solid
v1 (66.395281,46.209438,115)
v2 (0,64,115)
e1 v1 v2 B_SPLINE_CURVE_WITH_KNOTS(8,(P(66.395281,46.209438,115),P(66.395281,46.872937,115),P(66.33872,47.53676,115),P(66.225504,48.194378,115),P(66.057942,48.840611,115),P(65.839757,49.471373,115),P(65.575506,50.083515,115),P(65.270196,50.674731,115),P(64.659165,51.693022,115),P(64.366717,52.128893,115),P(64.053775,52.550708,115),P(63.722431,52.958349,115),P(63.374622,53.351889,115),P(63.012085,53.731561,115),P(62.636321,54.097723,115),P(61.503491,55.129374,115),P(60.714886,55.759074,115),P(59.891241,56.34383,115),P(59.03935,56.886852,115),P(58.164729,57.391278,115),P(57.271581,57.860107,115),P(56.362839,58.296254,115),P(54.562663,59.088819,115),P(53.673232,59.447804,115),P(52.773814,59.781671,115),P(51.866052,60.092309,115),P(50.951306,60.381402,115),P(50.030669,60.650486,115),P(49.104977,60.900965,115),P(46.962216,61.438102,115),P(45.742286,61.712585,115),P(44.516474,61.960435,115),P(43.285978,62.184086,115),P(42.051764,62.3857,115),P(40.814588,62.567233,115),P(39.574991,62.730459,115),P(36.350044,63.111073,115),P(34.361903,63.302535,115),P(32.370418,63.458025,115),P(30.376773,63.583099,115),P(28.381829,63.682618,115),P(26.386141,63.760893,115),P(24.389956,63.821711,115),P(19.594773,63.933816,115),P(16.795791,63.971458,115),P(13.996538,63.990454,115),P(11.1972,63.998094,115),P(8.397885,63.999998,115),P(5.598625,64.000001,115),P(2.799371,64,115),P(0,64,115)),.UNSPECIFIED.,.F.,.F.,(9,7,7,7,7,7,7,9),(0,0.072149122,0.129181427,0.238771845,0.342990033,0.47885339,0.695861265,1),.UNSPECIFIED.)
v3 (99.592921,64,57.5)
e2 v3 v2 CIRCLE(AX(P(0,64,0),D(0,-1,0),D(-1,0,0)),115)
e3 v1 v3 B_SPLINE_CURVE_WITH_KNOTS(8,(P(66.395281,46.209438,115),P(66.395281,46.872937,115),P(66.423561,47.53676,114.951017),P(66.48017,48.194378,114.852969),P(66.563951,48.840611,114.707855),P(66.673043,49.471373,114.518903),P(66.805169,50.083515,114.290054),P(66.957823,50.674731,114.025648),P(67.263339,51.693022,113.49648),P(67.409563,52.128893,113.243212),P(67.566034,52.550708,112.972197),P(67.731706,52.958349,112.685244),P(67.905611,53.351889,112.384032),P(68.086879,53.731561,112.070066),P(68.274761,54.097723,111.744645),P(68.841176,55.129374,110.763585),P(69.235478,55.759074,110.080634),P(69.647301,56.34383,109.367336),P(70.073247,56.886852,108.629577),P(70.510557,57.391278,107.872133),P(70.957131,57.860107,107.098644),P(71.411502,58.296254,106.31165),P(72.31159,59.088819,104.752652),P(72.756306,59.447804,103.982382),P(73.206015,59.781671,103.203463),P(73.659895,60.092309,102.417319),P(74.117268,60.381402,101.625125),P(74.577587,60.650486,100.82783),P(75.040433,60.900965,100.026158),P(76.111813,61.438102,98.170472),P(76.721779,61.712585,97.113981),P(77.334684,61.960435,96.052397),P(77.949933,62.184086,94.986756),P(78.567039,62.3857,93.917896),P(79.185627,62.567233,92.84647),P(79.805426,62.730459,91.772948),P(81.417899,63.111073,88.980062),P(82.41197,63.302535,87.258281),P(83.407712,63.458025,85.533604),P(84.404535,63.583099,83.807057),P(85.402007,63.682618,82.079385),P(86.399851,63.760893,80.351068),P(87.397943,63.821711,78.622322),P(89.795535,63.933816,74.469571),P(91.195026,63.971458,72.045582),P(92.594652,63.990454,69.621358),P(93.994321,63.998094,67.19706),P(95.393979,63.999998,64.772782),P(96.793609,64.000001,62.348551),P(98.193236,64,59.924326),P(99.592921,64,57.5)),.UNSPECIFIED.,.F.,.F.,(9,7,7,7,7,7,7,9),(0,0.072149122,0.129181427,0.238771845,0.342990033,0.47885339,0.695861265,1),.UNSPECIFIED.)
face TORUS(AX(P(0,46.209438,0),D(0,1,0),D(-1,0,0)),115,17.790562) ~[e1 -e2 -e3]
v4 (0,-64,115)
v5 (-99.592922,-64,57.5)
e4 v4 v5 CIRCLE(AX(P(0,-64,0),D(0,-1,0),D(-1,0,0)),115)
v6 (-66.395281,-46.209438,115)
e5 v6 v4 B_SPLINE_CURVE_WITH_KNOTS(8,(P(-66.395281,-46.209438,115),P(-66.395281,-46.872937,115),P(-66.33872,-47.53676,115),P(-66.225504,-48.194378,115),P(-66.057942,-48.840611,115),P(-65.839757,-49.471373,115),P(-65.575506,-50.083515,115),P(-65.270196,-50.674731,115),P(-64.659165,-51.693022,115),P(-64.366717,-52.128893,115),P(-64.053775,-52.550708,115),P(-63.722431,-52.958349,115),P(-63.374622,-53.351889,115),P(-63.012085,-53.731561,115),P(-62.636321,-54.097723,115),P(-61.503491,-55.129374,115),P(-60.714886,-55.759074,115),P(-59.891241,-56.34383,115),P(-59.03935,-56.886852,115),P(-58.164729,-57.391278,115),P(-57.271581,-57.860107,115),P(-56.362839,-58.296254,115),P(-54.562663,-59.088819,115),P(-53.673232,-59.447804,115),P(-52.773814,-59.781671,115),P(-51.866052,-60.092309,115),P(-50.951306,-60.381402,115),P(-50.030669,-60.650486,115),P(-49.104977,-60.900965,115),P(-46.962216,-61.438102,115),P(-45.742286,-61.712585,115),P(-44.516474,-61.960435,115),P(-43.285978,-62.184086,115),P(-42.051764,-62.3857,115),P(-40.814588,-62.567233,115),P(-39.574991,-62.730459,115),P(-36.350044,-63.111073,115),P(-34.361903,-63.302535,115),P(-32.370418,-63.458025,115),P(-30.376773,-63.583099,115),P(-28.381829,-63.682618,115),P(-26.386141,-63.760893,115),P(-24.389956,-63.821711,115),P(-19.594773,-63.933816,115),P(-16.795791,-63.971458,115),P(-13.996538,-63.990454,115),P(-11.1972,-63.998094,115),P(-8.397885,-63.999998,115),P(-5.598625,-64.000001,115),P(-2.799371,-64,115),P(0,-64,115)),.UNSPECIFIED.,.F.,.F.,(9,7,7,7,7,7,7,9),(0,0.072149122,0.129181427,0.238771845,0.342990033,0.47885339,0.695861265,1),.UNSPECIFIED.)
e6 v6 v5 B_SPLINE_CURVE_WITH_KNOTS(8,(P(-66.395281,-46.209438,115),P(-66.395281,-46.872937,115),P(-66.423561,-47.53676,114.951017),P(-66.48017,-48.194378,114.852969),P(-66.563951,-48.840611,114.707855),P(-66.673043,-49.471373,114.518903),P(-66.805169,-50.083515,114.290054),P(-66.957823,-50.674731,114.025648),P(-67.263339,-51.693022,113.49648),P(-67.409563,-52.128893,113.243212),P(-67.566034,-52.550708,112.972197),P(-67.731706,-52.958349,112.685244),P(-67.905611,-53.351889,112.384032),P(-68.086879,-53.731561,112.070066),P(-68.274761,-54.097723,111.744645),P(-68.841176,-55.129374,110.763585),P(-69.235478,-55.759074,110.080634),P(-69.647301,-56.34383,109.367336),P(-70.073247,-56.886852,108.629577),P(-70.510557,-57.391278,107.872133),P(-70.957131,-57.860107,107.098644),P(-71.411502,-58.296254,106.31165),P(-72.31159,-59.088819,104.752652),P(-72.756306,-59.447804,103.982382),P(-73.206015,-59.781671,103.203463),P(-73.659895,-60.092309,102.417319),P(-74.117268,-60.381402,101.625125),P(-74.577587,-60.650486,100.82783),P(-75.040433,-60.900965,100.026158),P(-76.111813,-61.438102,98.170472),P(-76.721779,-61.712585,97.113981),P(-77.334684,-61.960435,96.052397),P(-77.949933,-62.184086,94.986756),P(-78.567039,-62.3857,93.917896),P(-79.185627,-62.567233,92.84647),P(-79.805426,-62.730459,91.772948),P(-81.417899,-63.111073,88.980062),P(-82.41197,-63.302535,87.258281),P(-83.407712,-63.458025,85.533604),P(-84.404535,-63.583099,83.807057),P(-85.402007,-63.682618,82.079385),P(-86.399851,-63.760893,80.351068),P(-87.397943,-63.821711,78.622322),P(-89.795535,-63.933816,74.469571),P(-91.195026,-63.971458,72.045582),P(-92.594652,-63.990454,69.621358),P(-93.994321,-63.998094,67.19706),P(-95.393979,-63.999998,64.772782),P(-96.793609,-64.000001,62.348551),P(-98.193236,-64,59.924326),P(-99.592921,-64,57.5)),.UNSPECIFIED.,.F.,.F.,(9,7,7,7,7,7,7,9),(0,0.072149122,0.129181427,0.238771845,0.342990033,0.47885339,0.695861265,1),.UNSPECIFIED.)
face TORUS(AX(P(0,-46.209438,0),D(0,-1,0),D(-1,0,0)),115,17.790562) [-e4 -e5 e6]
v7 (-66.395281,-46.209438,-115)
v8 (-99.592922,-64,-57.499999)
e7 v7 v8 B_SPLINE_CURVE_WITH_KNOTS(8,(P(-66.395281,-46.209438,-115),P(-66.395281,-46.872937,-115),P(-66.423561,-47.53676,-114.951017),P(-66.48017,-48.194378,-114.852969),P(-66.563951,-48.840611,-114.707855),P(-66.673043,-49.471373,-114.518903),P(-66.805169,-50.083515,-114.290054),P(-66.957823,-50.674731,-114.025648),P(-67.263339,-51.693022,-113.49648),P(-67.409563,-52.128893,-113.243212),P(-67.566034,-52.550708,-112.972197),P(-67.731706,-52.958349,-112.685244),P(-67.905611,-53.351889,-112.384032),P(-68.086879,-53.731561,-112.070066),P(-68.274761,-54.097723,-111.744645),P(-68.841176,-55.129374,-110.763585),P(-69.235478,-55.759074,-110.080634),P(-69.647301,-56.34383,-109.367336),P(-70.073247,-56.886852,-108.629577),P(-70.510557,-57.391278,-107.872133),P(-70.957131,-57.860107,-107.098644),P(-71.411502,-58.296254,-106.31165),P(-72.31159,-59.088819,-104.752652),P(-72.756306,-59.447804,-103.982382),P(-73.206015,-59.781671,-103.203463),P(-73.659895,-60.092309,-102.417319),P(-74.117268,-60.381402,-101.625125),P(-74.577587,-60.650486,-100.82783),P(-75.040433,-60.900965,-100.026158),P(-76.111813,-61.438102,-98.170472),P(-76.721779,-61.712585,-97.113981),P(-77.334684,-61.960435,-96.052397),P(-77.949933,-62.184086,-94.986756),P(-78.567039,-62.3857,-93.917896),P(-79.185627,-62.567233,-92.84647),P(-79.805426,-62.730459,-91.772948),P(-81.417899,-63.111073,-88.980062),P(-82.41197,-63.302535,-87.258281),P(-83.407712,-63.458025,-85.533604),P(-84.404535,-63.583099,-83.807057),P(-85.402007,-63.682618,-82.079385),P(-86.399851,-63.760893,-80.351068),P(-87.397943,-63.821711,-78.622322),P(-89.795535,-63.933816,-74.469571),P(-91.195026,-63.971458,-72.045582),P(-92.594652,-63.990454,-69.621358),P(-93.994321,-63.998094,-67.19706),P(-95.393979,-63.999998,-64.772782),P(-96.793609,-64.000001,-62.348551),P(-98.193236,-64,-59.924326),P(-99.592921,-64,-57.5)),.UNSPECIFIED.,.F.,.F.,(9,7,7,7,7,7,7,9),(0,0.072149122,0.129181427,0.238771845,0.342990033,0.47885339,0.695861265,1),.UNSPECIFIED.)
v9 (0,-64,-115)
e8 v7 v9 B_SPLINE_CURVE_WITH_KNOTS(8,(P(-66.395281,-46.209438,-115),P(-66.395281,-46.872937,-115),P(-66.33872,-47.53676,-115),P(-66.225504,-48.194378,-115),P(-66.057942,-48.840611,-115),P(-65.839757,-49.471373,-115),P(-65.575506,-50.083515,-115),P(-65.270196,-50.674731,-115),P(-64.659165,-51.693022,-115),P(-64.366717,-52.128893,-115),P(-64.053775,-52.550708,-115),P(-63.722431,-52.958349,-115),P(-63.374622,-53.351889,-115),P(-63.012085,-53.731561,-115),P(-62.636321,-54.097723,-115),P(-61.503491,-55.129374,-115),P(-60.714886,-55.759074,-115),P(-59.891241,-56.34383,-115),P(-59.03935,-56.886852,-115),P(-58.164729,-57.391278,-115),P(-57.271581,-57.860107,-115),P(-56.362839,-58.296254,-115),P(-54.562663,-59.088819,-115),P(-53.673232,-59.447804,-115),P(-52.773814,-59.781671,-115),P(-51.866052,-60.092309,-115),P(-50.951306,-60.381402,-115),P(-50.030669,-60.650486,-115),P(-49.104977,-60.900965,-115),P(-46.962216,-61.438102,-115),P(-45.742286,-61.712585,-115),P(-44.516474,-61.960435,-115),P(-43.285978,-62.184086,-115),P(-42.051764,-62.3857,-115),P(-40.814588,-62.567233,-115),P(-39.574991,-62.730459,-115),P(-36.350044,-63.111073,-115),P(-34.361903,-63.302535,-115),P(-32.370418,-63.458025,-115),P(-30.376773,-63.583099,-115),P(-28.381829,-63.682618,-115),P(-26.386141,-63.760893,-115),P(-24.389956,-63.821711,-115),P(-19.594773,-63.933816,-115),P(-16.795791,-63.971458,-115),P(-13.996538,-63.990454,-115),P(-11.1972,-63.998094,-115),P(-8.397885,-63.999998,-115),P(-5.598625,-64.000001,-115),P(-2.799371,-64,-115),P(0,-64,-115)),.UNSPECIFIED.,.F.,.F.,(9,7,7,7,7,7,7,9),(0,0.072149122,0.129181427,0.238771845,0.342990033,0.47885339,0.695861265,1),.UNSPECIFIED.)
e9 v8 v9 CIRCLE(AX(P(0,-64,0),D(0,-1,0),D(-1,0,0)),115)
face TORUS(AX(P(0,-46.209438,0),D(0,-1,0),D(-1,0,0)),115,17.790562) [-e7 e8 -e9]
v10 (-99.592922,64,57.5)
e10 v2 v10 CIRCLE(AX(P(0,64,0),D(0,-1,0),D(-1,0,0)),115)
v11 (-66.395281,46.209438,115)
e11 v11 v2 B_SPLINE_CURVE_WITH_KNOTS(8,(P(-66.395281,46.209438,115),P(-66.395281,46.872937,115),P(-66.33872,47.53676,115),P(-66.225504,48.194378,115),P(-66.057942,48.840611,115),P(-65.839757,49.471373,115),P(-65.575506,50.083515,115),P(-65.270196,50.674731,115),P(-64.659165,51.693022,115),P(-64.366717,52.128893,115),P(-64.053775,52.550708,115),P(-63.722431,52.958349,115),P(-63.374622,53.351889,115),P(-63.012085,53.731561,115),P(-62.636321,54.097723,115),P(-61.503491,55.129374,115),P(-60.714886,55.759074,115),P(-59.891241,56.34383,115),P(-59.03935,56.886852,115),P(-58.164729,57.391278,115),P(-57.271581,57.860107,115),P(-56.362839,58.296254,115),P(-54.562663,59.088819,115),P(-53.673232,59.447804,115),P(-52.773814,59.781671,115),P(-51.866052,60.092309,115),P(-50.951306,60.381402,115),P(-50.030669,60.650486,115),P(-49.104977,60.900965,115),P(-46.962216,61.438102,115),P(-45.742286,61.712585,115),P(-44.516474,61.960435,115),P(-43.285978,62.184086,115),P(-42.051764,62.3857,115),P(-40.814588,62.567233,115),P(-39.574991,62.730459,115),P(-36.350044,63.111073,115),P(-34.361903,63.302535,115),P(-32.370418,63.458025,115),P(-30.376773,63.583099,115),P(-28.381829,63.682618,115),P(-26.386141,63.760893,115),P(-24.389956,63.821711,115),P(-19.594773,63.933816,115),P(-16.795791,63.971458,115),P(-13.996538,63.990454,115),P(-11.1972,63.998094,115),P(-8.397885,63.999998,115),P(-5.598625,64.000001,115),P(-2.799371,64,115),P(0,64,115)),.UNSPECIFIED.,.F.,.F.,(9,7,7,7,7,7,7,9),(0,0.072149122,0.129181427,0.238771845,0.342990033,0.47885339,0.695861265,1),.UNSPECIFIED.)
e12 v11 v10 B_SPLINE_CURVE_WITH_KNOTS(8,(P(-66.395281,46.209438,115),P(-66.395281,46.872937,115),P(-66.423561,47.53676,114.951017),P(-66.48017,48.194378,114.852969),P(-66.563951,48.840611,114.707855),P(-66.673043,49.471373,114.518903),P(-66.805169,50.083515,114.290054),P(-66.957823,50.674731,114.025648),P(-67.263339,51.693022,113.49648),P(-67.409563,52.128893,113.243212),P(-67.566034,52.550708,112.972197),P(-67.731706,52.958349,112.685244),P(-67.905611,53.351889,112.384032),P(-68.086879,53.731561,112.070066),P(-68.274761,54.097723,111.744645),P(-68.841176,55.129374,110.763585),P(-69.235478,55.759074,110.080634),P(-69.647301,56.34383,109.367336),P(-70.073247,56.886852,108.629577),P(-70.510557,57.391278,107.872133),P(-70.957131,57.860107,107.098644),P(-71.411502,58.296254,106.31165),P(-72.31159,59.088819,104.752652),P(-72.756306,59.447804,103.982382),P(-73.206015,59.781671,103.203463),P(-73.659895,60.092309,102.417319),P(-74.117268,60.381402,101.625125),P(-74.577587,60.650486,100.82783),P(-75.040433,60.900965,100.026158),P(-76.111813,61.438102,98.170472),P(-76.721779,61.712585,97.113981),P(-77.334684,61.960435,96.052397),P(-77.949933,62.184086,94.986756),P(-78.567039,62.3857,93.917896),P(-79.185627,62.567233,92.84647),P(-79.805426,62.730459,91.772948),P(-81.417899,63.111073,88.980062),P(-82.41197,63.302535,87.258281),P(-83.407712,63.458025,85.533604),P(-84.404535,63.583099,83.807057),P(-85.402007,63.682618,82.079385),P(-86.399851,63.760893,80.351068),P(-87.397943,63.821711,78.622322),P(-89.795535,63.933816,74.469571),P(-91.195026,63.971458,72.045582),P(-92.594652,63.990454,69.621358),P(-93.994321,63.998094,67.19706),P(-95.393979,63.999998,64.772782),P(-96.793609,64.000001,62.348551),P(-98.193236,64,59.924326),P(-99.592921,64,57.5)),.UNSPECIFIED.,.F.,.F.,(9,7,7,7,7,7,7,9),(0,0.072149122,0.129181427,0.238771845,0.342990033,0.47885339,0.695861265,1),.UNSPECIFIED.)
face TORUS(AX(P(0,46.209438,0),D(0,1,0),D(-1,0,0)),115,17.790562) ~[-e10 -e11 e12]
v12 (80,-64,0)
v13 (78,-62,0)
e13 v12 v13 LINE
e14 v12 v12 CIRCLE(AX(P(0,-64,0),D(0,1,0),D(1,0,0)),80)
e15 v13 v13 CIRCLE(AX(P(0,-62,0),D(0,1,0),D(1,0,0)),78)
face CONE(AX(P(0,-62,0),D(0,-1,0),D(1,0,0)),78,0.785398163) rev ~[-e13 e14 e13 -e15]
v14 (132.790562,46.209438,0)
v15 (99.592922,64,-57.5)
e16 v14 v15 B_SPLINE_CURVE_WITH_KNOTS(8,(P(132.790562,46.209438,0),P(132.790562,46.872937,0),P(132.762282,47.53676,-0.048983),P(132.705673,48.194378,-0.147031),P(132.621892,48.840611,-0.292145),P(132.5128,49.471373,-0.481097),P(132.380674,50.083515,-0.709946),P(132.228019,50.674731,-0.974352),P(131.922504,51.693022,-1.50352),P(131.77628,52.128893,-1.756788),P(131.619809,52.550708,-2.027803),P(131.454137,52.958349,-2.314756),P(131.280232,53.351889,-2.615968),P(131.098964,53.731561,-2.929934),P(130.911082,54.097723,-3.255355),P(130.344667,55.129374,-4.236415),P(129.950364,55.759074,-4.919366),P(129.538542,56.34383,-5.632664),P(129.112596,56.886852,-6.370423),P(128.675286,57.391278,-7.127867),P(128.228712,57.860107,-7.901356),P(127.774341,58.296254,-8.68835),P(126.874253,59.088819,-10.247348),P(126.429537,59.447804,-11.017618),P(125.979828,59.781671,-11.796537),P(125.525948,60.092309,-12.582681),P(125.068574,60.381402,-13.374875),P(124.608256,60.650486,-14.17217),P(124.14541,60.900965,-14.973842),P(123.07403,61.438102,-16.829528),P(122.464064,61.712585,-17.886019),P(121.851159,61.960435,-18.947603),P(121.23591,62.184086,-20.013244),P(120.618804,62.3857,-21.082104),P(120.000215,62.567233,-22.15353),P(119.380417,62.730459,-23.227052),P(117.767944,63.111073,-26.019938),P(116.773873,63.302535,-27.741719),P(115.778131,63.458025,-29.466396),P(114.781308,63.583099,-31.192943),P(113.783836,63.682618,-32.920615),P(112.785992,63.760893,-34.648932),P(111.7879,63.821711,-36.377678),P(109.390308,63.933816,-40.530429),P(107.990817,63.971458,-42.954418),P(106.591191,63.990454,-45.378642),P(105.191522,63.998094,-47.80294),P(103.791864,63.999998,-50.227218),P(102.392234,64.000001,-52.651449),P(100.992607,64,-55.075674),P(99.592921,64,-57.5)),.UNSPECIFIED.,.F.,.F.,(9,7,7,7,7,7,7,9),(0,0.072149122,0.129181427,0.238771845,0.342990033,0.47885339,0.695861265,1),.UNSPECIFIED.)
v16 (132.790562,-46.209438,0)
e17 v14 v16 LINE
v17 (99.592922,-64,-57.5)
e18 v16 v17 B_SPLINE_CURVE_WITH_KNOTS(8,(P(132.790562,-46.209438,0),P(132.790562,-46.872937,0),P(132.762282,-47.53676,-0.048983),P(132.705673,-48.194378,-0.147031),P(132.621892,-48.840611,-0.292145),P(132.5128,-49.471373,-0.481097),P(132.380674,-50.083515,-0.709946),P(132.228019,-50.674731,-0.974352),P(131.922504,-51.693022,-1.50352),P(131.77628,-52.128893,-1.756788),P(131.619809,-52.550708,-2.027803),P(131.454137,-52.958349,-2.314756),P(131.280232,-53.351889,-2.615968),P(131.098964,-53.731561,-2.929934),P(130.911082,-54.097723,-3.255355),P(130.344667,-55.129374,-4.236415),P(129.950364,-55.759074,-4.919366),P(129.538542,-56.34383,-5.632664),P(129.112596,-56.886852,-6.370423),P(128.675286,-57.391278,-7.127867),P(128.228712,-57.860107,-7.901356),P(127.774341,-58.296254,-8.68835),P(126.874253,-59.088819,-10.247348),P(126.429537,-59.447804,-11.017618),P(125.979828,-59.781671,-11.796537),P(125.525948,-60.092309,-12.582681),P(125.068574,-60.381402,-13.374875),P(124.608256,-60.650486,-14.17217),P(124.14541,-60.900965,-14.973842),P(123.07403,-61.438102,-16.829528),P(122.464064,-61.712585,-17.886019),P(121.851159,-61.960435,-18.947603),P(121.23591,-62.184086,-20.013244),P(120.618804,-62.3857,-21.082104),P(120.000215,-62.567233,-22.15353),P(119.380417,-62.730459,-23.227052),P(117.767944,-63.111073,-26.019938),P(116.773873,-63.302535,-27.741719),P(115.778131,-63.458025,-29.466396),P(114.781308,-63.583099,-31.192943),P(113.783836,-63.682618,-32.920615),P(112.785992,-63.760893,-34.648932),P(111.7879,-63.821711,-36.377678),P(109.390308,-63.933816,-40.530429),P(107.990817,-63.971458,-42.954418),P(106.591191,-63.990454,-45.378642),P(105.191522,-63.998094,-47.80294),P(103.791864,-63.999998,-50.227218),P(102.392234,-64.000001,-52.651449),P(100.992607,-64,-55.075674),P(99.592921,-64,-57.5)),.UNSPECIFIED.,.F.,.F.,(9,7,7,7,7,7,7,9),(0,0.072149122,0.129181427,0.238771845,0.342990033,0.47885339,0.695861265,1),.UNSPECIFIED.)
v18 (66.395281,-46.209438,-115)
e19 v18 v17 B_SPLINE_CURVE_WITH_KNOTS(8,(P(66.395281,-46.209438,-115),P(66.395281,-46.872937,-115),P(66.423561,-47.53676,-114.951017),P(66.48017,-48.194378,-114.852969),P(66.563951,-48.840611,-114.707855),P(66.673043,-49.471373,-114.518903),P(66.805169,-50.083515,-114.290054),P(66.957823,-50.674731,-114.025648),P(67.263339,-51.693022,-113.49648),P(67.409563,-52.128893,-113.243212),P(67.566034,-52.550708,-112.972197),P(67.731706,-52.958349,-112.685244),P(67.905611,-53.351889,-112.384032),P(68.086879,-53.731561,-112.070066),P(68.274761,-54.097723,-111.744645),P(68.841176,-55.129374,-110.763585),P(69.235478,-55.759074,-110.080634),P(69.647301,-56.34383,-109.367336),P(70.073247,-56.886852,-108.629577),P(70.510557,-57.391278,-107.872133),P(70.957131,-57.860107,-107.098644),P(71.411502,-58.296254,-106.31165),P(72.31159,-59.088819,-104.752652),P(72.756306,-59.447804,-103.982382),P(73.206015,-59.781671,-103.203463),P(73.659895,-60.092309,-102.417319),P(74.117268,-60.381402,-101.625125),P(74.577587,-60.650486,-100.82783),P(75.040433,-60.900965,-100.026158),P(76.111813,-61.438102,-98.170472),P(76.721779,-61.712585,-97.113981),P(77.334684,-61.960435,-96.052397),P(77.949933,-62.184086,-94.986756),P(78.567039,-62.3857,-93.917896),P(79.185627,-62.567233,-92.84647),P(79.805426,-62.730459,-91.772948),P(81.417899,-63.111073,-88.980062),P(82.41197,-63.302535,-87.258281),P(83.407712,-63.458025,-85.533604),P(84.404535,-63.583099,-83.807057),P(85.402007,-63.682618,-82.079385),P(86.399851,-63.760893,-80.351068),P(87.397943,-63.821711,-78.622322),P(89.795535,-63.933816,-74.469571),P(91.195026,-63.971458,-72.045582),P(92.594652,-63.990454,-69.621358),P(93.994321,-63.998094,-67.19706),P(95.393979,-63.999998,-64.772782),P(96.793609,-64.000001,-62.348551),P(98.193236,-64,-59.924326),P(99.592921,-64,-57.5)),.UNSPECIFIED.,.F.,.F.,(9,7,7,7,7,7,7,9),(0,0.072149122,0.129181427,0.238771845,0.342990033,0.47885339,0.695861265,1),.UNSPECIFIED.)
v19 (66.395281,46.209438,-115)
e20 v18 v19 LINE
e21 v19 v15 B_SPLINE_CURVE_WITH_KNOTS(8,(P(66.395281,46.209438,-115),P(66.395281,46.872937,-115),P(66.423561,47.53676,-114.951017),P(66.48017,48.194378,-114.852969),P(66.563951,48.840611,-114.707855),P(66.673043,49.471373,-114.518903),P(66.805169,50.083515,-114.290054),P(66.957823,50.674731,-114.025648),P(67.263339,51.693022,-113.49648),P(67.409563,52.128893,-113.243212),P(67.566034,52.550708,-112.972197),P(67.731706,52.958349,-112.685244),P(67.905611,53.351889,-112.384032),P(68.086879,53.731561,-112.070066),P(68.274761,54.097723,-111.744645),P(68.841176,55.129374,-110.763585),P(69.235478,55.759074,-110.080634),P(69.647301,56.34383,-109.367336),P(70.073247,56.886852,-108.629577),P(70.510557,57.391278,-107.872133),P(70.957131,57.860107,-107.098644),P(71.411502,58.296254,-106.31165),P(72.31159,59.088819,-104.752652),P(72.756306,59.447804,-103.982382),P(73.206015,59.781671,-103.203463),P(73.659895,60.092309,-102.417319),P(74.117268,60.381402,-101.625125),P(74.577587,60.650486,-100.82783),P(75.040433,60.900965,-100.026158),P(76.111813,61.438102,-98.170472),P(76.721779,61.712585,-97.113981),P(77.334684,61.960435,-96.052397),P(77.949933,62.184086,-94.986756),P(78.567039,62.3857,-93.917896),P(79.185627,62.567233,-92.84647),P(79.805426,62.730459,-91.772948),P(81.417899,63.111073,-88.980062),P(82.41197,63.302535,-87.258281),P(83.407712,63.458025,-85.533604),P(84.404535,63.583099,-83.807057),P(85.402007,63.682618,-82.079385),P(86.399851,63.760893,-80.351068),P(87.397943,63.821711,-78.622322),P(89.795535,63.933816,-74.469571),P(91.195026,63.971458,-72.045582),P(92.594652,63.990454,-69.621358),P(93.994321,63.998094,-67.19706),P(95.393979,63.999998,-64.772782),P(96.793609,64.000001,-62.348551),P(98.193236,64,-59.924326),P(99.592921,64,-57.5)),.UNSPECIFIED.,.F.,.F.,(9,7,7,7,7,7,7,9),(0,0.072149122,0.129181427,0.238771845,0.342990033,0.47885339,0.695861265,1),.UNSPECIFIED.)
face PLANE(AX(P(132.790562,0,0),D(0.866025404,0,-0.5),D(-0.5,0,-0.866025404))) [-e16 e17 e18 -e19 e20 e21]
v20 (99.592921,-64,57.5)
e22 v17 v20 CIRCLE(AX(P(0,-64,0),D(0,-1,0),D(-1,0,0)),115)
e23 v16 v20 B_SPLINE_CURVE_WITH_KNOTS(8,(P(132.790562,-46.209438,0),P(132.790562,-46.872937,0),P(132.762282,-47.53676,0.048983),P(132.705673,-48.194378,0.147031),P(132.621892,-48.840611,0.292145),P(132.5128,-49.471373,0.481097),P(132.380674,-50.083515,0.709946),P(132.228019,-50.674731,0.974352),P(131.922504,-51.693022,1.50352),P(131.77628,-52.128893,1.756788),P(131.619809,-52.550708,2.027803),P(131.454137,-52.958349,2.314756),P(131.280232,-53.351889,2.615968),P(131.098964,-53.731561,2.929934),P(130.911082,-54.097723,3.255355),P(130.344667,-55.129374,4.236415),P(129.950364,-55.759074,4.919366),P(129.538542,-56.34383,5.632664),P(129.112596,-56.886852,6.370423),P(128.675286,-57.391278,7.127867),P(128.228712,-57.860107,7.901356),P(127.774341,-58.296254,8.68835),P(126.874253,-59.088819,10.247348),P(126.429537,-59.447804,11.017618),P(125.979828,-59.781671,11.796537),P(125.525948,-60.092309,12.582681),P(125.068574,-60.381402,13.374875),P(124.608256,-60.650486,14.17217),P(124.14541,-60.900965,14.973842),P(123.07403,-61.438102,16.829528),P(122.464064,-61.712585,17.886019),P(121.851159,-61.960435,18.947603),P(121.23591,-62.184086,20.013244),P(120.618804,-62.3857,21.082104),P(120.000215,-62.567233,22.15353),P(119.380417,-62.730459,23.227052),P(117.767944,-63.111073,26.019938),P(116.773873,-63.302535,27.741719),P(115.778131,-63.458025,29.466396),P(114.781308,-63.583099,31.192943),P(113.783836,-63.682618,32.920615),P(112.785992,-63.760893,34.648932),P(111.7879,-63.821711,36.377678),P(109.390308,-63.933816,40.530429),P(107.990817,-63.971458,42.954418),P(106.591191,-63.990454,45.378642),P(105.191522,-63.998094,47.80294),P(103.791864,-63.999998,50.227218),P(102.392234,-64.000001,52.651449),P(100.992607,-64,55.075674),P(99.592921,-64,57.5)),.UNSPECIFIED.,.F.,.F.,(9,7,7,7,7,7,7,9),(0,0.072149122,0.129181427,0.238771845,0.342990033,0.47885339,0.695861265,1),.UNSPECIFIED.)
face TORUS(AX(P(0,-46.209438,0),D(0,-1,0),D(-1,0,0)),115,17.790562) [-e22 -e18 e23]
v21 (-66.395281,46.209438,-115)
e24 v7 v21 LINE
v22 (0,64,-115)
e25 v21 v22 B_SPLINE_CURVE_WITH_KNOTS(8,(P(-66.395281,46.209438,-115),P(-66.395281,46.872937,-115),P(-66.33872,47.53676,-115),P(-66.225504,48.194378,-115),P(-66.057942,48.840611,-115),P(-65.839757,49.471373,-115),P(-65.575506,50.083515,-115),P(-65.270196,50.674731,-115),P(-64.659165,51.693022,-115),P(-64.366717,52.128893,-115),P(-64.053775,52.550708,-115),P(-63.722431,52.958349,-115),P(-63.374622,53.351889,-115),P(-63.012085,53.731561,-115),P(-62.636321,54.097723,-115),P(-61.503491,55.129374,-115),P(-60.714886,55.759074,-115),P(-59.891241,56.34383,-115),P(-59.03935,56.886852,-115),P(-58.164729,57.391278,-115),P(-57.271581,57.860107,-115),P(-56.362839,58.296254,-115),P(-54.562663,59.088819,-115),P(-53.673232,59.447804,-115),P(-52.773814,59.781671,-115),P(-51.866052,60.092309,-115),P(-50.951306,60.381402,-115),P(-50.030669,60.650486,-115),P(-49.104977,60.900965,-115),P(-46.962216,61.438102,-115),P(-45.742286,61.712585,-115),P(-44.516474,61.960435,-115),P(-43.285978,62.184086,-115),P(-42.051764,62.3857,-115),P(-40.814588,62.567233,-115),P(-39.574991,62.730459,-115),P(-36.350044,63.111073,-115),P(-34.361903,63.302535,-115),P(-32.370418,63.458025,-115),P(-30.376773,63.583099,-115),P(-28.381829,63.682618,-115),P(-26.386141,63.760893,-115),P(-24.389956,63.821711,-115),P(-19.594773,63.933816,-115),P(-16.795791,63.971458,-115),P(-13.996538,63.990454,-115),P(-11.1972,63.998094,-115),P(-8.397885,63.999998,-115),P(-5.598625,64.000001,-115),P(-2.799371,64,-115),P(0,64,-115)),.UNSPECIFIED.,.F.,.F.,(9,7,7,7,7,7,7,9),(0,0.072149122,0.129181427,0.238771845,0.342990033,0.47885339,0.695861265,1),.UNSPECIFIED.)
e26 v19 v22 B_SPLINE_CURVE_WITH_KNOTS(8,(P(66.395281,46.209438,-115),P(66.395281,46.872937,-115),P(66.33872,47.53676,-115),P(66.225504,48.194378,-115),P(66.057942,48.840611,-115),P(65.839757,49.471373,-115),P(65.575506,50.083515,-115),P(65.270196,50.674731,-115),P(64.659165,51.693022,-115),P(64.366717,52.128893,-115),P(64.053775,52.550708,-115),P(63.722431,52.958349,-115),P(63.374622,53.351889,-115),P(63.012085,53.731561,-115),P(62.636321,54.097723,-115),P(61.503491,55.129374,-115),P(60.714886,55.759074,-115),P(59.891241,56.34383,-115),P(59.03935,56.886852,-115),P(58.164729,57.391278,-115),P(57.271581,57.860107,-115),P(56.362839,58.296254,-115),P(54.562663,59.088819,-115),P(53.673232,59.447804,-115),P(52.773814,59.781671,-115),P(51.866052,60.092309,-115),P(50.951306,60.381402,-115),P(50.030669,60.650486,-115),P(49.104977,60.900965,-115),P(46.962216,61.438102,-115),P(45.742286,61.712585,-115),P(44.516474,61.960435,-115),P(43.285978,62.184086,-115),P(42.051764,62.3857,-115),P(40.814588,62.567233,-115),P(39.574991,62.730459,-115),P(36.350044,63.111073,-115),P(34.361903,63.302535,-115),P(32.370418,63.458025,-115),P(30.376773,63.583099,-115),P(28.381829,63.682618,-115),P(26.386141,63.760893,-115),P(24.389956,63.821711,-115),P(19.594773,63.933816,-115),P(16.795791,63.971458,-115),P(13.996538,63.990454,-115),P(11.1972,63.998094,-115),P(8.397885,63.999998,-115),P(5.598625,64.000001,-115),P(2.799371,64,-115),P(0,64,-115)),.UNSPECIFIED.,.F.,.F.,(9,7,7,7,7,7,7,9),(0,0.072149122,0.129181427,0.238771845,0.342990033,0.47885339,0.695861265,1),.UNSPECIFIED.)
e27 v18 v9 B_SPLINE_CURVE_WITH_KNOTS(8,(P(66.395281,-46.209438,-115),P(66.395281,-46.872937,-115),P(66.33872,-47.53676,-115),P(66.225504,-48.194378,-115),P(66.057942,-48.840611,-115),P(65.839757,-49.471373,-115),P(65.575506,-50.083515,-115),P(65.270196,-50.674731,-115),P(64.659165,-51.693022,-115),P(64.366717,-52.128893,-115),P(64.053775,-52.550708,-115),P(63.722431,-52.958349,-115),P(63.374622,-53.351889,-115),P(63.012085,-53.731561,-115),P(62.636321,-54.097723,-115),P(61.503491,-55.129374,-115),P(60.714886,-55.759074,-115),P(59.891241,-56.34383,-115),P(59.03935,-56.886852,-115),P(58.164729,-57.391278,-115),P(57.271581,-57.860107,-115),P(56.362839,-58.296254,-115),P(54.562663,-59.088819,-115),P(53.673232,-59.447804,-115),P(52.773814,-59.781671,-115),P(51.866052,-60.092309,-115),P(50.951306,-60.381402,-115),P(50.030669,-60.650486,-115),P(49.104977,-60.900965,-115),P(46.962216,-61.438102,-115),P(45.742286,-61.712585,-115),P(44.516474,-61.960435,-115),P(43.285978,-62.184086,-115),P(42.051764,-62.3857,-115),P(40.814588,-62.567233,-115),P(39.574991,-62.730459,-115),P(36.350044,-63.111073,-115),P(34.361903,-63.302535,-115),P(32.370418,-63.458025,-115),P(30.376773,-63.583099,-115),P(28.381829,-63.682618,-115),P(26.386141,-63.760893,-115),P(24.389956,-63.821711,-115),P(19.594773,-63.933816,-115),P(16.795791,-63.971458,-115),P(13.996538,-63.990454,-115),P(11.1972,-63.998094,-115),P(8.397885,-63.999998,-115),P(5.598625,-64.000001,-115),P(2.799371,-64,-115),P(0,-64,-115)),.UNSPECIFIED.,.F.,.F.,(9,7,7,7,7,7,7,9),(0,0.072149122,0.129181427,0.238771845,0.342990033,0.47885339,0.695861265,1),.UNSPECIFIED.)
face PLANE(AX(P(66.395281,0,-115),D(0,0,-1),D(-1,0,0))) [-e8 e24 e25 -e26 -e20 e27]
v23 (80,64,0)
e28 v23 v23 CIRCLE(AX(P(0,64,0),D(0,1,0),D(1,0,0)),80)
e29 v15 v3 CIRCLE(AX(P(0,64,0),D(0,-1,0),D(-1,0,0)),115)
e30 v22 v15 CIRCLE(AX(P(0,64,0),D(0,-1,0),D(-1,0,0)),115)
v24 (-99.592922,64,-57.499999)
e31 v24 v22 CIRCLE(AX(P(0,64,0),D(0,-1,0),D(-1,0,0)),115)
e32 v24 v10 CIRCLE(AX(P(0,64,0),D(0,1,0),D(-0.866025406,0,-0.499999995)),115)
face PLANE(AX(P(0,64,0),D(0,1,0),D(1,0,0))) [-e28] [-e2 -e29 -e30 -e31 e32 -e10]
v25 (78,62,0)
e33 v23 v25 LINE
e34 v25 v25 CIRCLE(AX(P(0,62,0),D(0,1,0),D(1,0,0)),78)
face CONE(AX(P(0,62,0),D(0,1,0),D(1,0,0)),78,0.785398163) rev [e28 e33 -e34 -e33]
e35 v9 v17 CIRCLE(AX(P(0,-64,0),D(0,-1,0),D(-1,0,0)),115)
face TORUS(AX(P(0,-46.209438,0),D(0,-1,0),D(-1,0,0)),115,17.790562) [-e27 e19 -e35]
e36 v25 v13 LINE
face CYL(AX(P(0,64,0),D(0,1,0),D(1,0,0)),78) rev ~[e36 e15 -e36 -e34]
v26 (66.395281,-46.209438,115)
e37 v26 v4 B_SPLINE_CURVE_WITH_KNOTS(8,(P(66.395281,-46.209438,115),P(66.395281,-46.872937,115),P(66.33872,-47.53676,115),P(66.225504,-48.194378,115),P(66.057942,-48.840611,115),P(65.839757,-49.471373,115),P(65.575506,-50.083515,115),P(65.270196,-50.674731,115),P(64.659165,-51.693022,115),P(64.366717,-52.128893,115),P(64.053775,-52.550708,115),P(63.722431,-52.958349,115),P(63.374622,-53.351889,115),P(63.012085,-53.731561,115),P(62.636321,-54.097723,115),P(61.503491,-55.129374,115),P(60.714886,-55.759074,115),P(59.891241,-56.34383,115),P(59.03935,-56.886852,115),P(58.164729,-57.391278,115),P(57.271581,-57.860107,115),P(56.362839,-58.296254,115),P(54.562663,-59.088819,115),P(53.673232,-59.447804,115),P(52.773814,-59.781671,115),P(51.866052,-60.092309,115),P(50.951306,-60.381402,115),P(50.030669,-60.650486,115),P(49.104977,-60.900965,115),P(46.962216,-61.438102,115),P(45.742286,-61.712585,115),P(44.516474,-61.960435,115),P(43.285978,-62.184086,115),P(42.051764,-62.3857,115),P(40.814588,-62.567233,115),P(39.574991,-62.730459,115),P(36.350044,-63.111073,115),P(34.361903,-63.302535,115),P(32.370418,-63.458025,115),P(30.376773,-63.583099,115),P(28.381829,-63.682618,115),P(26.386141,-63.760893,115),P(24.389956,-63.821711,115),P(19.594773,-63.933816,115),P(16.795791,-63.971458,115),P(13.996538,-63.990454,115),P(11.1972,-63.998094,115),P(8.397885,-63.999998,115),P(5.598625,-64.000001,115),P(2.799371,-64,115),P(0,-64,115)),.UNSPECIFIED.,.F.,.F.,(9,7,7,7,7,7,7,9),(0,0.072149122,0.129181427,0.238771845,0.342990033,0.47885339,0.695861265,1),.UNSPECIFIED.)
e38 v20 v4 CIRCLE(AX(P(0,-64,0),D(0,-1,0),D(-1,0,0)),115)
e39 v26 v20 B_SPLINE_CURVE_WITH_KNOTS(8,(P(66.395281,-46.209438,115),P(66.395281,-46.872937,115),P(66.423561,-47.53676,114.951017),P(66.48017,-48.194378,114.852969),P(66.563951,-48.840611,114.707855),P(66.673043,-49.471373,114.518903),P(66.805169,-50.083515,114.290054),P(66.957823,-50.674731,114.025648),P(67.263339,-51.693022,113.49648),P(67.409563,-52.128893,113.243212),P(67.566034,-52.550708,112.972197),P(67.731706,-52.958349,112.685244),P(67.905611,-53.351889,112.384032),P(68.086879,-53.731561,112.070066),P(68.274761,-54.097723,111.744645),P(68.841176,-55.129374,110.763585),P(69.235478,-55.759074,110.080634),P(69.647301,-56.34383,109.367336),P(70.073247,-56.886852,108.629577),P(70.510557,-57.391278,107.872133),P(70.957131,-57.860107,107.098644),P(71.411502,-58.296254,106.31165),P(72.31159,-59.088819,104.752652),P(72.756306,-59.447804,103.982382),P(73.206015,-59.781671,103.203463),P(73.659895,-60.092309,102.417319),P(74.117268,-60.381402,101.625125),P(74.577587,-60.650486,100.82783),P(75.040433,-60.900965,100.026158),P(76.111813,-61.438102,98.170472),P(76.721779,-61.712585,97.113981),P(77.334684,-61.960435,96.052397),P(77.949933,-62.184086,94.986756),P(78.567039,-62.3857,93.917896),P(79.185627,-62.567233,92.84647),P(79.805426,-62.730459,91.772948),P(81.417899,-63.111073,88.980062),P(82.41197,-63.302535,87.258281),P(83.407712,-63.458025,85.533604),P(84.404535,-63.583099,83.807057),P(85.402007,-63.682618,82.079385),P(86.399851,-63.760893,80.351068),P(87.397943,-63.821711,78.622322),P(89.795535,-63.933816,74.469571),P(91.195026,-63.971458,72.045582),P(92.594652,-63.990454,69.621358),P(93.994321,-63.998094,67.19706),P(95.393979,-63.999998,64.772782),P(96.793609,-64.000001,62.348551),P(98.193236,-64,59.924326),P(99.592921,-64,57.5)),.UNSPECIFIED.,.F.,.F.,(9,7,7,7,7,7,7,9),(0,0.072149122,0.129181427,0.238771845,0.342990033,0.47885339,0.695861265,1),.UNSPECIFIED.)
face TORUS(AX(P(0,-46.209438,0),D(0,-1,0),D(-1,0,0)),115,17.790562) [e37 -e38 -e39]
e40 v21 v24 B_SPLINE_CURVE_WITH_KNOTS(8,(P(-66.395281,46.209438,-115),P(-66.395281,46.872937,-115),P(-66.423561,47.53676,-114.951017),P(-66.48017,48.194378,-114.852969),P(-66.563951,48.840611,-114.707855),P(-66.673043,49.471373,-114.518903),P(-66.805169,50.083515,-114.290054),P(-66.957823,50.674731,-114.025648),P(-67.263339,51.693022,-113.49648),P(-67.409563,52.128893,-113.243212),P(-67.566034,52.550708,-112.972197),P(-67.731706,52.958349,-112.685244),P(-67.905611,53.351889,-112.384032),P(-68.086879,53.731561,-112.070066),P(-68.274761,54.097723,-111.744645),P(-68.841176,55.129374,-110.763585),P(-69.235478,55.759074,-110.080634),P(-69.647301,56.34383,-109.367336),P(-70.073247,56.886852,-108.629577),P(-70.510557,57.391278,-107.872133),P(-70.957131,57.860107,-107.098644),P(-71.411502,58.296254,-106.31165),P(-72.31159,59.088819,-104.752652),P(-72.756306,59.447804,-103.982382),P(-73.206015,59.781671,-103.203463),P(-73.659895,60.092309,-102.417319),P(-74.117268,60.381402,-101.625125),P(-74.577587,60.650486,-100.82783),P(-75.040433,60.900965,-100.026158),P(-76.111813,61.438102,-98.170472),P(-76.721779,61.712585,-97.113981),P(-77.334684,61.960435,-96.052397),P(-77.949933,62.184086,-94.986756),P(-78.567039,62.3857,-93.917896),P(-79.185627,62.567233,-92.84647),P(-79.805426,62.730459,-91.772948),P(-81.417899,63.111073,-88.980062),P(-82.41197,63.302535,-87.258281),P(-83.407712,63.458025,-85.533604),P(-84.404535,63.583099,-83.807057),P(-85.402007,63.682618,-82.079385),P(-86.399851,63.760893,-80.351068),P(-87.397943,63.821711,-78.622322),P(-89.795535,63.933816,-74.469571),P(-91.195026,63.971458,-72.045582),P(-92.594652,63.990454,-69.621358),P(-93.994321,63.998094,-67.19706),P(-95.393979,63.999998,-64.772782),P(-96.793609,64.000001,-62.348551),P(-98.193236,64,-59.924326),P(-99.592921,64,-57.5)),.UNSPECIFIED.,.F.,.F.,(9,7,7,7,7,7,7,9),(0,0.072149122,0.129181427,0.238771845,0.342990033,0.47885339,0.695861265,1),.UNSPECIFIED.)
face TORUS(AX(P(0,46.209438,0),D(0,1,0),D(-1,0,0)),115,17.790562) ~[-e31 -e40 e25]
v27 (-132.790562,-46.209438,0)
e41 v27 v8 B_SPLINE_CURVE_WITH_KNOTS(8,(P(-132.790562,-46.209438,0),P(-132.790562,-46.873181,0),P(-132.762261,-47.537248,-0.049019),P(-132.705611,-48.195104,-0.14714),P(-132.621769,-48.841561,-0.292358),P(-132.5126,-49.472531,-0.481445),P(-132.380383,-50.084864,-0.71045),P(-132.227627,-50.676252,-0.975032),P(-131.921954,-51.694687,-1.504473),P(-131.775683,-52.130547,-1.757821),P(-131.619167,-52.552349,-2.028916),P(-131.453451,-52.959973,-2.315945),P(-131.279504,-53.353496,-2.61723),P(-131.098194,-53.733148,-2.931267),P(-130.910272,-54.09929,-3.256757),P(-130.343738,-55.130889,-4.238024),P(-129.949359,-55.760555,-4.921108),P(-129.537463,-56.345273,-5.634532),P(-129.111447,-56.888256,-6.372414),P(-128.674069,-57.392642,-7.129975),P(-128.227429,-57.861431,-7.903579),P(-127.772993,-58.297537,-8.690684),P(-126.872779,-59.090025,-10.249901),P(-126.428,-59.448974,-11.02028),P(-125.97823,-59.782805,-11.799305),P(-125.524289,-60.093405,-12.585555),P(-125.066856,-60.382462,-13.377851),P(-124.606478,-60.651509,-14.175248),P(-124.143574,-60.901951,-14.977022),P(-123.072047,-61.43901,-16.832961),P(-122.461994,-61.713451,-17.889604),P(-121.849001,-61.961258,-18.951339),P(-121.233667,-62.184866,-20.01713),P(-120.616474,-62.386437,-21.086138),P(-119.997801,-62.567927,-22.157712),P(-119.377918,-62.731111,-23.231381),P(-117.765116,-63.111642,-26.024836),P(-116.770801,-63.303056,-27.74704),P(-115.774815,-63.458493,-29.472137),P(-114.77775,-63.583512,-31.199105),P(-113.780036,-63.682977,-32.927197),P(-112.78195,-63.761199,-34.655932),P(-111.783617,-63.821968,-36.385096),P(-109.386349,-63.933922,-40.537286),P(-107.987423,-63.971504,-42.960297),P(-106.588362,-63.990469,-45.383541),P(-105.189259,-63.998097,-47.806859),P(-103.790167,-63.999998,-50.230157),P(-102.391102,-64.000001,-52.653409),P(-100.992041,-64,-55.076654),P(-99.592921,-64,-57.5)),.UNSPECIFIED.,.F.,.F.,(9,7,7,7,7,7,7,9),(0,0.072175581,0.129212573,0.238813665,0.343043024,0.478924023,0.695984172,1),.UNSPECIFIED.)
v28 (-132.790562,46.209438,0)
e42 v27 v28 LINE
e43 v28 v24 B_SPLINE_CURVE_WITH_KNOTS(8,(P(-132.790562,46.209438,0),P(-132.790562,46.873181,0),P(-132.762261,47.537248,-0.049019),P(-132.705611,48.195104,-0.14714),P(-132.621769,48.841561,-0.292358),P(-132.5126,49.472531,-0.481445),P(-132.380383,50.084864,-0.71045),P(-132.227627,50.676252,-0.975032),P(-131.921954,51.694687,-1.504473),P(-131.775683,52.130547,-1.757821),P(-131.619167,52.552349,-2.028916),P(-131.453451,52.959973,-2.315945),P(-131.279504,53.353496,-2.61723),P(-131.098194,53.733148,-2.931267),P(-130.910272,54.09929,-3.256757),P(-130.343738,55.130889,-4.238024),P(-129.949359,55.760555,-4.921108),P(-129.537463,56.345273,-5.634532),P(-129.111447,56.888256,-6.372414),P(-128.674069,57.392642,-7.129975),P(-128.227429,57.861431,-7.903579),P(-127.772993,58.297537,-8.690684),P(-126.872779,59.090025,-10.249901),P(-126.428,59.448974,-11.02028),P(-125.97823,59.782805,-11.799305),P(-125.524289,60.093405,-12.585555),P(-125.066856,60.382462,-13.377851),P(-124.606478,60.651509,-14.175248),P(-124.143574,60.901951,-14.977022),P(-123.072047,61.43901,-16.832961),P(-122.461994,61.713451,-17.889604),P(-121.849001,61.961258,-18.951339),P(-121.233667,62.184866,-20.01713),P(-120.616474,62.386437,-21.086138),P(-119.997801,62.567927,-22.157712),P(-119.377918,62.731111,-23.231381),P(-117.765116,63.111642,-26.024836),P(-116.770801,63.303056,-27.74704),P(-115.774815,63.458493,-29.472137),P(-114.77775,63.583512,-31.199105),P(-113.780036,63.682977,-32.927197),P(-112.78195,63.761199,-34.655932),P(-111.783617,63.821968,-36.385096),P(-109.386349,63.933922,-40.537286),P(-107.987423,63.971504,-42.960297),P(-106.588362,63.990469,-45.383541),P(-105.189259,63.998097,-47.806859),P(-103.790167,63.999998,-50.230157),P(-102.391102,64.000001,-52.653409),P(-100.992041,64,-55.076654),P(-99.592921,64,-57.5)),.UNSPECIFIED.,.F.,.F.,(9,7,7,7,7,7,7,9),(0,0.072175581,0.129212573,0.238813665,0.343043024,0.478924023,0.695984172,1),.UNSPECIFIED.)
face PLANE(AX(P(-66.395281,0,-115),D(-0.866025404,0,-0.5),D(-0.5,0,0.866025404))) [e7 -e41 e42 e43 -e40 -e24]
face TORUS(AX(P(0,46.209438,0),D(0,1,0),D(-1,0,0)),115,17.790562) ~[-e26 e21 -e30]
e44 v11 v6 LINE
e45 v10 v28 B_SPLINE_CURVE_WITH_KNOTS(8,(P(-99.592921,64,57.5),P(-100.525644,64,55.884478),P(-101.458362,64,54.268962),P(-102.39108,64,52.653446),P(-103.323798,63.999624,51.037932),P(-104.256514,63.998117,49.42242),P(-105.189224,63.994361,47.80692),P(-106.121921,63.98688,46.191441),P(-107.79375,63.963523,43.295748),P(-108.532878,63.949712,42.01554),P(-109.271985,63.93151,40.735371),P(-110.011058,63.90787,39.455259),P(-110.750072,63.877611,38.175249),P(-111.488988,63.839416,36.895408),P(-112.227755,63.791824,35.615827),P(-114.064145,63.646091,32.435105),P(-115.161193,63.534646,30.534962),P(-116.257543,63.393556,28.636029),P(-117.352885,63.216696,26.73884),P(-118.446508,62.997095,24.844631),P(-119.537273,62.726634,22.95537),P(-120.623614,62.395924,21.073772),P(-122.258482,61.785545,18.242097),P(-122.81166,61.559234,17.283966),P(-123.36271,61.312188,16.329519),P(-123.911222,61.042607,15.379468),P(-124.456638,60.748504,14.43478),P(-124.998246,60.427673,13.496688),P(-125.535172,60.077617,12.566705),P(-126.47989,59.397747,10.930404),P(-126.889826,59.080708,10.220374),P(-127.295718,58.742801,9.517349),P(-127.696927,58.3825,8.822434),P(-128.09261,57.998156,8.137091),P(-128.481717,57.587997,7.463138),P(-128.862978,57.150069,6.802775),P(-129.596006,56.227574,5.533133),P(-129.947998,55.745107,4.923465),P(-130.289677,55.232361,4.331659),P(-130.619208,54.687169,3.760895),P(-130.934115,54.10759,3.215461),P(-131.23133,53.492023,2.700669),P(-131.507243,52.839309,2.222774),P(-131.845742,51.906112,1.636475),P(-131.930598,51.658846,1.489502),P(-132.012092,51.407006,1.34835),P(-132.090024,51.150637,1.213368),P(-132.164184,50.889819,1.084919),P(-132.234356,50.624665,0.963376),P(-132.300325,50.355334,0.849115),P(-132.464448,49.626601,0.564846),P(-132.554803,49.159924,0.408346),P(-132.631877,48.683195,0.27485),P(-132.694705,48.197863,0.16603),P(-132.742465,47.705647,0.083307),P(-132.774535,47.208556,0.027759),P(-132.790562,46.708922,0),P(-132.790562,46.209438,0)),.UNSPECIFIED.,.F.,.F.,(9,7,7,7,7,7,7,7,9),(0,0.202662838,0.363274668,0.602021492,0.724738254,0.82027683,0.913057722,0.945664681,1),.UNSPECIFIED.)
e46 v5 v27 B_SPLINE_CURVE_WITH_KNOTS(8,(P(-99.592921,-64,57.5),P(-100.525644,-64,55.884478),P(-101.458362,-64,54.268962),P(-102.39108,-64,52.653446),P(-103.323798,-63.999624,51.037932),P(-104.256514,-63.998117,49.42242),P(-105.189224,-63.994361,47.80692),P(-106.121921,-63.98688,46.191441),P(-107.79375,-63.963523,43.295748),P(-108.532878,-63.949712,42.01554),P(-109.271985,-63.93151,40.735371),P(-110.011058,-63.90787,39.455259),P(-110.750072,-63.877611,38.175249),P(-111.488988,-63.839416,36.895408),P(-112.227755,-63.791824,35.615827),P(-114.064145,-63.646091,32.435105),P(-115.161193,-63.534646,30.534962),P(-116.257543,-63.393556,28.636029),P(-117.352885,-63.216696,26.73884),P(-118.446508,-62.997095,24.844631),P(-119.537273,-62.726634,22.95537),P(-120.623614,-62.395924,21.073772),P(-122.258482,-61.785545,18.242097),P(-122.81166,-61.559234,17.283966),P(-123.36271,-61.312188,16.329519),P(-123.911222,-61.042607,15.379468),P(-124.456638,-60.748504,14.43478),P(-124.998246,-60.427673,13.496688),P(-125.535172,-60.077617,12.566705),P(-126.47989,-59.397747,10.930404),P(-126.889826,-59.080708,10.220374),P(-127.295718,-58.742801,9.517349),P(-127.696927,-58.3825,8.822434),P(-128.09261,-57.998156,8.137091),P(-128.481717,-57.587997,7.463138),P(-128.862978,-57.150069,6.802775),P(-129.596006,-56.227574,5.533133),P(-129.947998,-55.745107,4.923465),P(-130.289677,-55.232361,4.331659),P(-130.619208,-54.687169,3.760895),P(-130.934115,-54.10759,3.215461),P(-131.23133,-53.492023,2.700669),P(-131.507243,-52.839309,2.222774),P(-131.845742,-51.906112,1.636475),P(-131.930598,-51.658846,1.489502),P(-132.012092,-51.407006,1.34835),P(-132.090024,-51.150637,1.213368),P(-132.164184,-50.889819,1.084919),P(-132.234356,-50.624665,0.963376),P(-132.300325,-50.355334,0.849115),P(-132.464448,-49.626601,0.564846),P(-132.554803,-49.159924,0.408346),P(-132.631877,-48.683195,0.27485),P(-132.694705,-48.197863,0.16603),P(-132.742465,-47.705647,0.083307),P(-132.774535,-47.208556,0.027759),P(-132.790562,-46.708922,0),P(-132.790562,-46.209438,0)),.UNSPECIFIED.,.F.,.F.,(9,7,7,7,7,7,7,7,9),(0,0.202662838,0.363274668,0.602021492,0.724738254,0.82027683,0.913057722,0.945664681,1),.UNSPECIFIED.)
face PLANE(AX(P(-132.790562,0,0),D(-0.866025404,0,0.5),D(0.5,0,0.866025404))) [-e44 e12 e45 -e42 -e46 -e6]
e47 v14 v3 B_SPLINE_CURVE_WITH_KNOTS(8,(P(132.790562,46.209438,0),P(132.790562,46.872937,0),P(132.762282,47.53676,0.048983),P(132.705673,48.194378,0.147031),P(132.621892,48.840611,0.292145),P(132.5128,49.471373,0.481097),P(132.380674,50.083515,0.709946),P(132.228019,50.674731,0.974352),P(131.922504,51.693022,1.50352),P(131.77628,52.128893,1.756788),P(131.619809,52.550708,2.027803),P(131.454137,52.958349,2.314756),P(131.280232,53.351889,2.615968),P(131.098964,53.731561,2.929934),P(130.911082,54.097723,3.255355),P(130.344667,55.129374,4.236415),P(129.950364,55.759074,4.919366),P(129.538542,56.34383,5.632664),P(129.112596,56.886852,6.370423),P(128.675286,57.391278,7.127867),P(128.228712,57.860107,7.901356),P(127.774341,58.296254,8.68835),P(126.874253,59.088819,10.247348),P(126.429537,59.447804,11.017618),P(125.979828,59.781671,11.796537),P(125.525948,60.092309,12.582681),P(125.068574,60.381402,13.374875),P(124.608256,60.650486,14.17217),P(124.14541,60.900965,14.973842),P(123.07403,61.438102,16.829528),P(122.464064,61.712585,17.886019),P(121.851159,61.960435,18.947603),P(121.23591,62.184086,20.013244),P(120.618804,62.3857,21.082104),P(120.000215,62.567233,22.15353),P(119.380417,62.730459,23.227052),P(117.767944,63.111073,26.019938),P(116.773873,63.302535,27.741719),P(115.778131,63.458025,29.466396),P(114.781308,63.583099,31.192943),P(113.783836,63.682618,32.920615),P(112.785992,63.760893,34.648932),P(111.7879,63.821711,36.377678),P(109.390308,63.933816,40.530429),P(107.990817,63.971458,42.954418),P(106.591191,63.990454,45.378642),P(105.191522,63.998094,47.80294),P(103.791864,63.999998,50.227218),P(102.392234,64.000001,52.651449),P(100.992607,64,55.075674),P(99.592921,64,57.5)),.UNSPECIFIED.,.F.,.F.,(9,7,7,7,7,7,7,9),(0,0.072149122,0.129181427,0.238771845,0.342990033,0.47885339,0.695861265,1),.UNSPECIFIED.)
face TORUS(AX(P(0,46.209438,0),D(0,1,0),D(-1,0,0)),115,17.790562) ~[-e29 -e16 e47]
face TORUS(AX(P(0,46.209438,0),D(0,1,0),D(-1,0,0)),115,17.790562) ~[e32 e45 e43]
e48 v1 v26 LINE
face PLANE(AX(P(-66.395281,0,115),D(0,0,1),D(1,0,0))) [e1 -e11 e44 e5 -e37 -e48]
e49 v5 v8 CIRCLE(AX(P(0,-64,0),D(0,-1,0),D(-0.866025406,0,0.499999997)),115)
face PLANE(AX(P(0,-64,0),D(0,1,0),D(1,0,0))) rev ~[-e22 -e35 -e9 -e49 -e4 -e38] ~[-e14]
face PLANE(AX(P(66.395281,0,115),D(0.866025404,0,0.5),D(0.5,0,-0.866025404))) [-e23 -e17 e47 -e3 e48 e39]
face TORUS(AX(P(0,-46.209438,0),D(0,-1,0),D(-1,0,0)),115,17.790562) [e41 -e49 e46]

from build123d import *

# Parameters (mm, degrees)
BOSS_EXTRUDE1_DEPTH = 64
SKETCH6_R           = 78
CUT_EXTRUDE1_DEPTH  = 129.000000101
CHAMFER1_SIZE       = 2


with BuildPart() as part:
    # Sketch1 → Boss-Extrude1 (new body, symmetric)
    with BuildSketch(Plane(origin=(0, 0, 0), x_dir=(1, 0, 0), z_dir=(0, 1, 0))):
        Polygon((132.790561914, 0), (66.395280957, 115), (-66.395280957, 115), (-132.790561914, 0), (-66.395280957, -115), (66.395280957, -115), align=None)
    extrude(amount=BOSS_EXTRUDE1_DEPTH, both=True)

    # Sketch3 → Cut-Revolve1 (revolve, cut)
    with BuildSketch(Plane.XY):
        with BuildLine():
            Line((-132.790561914, 64), (-132.790561914, 46.209438086))
            ThreePointArc((-132.790561914, 46.209438086), (-127.57982697, 58.789265057), (-115, 64))
            Line((-115, 64), (-132.790561914, 64))
        make_face()
    cut_revolve1 = revolve(axis=Axis((0, -11.068960952, 0), (0, -1, 0)), mode=Mode.SUBTRACT)

    # Mirror1: Cut-Revolve1 across plane
    add(cut_revolve1.mirror(Plane.ZX), mode=Mode.SUBTRACT)

    # Sketch6 → Cut-Extrude1 (cut, through all)
    with BuildSketch(Plane(origin=(0, 64, 0), x_dir=(1, 0, 0), z_dir=(0, 1, 0))):
        Circle(SKETCH6_R)
    extrude(amount=-CUT_EXTRUDE1_DEPTH, mode=Mode.SUBTRACT)

    # Chamfer1
    chamfer1_edges = [part.edges().sort_by_distance(p)[0] for p in [
        (-78, -64, 0),
        (-78, 64, 0),
    ]]
    chamfer(chamfer1_edges, length=CHAMFER1_SIZE)


solid = part.part
